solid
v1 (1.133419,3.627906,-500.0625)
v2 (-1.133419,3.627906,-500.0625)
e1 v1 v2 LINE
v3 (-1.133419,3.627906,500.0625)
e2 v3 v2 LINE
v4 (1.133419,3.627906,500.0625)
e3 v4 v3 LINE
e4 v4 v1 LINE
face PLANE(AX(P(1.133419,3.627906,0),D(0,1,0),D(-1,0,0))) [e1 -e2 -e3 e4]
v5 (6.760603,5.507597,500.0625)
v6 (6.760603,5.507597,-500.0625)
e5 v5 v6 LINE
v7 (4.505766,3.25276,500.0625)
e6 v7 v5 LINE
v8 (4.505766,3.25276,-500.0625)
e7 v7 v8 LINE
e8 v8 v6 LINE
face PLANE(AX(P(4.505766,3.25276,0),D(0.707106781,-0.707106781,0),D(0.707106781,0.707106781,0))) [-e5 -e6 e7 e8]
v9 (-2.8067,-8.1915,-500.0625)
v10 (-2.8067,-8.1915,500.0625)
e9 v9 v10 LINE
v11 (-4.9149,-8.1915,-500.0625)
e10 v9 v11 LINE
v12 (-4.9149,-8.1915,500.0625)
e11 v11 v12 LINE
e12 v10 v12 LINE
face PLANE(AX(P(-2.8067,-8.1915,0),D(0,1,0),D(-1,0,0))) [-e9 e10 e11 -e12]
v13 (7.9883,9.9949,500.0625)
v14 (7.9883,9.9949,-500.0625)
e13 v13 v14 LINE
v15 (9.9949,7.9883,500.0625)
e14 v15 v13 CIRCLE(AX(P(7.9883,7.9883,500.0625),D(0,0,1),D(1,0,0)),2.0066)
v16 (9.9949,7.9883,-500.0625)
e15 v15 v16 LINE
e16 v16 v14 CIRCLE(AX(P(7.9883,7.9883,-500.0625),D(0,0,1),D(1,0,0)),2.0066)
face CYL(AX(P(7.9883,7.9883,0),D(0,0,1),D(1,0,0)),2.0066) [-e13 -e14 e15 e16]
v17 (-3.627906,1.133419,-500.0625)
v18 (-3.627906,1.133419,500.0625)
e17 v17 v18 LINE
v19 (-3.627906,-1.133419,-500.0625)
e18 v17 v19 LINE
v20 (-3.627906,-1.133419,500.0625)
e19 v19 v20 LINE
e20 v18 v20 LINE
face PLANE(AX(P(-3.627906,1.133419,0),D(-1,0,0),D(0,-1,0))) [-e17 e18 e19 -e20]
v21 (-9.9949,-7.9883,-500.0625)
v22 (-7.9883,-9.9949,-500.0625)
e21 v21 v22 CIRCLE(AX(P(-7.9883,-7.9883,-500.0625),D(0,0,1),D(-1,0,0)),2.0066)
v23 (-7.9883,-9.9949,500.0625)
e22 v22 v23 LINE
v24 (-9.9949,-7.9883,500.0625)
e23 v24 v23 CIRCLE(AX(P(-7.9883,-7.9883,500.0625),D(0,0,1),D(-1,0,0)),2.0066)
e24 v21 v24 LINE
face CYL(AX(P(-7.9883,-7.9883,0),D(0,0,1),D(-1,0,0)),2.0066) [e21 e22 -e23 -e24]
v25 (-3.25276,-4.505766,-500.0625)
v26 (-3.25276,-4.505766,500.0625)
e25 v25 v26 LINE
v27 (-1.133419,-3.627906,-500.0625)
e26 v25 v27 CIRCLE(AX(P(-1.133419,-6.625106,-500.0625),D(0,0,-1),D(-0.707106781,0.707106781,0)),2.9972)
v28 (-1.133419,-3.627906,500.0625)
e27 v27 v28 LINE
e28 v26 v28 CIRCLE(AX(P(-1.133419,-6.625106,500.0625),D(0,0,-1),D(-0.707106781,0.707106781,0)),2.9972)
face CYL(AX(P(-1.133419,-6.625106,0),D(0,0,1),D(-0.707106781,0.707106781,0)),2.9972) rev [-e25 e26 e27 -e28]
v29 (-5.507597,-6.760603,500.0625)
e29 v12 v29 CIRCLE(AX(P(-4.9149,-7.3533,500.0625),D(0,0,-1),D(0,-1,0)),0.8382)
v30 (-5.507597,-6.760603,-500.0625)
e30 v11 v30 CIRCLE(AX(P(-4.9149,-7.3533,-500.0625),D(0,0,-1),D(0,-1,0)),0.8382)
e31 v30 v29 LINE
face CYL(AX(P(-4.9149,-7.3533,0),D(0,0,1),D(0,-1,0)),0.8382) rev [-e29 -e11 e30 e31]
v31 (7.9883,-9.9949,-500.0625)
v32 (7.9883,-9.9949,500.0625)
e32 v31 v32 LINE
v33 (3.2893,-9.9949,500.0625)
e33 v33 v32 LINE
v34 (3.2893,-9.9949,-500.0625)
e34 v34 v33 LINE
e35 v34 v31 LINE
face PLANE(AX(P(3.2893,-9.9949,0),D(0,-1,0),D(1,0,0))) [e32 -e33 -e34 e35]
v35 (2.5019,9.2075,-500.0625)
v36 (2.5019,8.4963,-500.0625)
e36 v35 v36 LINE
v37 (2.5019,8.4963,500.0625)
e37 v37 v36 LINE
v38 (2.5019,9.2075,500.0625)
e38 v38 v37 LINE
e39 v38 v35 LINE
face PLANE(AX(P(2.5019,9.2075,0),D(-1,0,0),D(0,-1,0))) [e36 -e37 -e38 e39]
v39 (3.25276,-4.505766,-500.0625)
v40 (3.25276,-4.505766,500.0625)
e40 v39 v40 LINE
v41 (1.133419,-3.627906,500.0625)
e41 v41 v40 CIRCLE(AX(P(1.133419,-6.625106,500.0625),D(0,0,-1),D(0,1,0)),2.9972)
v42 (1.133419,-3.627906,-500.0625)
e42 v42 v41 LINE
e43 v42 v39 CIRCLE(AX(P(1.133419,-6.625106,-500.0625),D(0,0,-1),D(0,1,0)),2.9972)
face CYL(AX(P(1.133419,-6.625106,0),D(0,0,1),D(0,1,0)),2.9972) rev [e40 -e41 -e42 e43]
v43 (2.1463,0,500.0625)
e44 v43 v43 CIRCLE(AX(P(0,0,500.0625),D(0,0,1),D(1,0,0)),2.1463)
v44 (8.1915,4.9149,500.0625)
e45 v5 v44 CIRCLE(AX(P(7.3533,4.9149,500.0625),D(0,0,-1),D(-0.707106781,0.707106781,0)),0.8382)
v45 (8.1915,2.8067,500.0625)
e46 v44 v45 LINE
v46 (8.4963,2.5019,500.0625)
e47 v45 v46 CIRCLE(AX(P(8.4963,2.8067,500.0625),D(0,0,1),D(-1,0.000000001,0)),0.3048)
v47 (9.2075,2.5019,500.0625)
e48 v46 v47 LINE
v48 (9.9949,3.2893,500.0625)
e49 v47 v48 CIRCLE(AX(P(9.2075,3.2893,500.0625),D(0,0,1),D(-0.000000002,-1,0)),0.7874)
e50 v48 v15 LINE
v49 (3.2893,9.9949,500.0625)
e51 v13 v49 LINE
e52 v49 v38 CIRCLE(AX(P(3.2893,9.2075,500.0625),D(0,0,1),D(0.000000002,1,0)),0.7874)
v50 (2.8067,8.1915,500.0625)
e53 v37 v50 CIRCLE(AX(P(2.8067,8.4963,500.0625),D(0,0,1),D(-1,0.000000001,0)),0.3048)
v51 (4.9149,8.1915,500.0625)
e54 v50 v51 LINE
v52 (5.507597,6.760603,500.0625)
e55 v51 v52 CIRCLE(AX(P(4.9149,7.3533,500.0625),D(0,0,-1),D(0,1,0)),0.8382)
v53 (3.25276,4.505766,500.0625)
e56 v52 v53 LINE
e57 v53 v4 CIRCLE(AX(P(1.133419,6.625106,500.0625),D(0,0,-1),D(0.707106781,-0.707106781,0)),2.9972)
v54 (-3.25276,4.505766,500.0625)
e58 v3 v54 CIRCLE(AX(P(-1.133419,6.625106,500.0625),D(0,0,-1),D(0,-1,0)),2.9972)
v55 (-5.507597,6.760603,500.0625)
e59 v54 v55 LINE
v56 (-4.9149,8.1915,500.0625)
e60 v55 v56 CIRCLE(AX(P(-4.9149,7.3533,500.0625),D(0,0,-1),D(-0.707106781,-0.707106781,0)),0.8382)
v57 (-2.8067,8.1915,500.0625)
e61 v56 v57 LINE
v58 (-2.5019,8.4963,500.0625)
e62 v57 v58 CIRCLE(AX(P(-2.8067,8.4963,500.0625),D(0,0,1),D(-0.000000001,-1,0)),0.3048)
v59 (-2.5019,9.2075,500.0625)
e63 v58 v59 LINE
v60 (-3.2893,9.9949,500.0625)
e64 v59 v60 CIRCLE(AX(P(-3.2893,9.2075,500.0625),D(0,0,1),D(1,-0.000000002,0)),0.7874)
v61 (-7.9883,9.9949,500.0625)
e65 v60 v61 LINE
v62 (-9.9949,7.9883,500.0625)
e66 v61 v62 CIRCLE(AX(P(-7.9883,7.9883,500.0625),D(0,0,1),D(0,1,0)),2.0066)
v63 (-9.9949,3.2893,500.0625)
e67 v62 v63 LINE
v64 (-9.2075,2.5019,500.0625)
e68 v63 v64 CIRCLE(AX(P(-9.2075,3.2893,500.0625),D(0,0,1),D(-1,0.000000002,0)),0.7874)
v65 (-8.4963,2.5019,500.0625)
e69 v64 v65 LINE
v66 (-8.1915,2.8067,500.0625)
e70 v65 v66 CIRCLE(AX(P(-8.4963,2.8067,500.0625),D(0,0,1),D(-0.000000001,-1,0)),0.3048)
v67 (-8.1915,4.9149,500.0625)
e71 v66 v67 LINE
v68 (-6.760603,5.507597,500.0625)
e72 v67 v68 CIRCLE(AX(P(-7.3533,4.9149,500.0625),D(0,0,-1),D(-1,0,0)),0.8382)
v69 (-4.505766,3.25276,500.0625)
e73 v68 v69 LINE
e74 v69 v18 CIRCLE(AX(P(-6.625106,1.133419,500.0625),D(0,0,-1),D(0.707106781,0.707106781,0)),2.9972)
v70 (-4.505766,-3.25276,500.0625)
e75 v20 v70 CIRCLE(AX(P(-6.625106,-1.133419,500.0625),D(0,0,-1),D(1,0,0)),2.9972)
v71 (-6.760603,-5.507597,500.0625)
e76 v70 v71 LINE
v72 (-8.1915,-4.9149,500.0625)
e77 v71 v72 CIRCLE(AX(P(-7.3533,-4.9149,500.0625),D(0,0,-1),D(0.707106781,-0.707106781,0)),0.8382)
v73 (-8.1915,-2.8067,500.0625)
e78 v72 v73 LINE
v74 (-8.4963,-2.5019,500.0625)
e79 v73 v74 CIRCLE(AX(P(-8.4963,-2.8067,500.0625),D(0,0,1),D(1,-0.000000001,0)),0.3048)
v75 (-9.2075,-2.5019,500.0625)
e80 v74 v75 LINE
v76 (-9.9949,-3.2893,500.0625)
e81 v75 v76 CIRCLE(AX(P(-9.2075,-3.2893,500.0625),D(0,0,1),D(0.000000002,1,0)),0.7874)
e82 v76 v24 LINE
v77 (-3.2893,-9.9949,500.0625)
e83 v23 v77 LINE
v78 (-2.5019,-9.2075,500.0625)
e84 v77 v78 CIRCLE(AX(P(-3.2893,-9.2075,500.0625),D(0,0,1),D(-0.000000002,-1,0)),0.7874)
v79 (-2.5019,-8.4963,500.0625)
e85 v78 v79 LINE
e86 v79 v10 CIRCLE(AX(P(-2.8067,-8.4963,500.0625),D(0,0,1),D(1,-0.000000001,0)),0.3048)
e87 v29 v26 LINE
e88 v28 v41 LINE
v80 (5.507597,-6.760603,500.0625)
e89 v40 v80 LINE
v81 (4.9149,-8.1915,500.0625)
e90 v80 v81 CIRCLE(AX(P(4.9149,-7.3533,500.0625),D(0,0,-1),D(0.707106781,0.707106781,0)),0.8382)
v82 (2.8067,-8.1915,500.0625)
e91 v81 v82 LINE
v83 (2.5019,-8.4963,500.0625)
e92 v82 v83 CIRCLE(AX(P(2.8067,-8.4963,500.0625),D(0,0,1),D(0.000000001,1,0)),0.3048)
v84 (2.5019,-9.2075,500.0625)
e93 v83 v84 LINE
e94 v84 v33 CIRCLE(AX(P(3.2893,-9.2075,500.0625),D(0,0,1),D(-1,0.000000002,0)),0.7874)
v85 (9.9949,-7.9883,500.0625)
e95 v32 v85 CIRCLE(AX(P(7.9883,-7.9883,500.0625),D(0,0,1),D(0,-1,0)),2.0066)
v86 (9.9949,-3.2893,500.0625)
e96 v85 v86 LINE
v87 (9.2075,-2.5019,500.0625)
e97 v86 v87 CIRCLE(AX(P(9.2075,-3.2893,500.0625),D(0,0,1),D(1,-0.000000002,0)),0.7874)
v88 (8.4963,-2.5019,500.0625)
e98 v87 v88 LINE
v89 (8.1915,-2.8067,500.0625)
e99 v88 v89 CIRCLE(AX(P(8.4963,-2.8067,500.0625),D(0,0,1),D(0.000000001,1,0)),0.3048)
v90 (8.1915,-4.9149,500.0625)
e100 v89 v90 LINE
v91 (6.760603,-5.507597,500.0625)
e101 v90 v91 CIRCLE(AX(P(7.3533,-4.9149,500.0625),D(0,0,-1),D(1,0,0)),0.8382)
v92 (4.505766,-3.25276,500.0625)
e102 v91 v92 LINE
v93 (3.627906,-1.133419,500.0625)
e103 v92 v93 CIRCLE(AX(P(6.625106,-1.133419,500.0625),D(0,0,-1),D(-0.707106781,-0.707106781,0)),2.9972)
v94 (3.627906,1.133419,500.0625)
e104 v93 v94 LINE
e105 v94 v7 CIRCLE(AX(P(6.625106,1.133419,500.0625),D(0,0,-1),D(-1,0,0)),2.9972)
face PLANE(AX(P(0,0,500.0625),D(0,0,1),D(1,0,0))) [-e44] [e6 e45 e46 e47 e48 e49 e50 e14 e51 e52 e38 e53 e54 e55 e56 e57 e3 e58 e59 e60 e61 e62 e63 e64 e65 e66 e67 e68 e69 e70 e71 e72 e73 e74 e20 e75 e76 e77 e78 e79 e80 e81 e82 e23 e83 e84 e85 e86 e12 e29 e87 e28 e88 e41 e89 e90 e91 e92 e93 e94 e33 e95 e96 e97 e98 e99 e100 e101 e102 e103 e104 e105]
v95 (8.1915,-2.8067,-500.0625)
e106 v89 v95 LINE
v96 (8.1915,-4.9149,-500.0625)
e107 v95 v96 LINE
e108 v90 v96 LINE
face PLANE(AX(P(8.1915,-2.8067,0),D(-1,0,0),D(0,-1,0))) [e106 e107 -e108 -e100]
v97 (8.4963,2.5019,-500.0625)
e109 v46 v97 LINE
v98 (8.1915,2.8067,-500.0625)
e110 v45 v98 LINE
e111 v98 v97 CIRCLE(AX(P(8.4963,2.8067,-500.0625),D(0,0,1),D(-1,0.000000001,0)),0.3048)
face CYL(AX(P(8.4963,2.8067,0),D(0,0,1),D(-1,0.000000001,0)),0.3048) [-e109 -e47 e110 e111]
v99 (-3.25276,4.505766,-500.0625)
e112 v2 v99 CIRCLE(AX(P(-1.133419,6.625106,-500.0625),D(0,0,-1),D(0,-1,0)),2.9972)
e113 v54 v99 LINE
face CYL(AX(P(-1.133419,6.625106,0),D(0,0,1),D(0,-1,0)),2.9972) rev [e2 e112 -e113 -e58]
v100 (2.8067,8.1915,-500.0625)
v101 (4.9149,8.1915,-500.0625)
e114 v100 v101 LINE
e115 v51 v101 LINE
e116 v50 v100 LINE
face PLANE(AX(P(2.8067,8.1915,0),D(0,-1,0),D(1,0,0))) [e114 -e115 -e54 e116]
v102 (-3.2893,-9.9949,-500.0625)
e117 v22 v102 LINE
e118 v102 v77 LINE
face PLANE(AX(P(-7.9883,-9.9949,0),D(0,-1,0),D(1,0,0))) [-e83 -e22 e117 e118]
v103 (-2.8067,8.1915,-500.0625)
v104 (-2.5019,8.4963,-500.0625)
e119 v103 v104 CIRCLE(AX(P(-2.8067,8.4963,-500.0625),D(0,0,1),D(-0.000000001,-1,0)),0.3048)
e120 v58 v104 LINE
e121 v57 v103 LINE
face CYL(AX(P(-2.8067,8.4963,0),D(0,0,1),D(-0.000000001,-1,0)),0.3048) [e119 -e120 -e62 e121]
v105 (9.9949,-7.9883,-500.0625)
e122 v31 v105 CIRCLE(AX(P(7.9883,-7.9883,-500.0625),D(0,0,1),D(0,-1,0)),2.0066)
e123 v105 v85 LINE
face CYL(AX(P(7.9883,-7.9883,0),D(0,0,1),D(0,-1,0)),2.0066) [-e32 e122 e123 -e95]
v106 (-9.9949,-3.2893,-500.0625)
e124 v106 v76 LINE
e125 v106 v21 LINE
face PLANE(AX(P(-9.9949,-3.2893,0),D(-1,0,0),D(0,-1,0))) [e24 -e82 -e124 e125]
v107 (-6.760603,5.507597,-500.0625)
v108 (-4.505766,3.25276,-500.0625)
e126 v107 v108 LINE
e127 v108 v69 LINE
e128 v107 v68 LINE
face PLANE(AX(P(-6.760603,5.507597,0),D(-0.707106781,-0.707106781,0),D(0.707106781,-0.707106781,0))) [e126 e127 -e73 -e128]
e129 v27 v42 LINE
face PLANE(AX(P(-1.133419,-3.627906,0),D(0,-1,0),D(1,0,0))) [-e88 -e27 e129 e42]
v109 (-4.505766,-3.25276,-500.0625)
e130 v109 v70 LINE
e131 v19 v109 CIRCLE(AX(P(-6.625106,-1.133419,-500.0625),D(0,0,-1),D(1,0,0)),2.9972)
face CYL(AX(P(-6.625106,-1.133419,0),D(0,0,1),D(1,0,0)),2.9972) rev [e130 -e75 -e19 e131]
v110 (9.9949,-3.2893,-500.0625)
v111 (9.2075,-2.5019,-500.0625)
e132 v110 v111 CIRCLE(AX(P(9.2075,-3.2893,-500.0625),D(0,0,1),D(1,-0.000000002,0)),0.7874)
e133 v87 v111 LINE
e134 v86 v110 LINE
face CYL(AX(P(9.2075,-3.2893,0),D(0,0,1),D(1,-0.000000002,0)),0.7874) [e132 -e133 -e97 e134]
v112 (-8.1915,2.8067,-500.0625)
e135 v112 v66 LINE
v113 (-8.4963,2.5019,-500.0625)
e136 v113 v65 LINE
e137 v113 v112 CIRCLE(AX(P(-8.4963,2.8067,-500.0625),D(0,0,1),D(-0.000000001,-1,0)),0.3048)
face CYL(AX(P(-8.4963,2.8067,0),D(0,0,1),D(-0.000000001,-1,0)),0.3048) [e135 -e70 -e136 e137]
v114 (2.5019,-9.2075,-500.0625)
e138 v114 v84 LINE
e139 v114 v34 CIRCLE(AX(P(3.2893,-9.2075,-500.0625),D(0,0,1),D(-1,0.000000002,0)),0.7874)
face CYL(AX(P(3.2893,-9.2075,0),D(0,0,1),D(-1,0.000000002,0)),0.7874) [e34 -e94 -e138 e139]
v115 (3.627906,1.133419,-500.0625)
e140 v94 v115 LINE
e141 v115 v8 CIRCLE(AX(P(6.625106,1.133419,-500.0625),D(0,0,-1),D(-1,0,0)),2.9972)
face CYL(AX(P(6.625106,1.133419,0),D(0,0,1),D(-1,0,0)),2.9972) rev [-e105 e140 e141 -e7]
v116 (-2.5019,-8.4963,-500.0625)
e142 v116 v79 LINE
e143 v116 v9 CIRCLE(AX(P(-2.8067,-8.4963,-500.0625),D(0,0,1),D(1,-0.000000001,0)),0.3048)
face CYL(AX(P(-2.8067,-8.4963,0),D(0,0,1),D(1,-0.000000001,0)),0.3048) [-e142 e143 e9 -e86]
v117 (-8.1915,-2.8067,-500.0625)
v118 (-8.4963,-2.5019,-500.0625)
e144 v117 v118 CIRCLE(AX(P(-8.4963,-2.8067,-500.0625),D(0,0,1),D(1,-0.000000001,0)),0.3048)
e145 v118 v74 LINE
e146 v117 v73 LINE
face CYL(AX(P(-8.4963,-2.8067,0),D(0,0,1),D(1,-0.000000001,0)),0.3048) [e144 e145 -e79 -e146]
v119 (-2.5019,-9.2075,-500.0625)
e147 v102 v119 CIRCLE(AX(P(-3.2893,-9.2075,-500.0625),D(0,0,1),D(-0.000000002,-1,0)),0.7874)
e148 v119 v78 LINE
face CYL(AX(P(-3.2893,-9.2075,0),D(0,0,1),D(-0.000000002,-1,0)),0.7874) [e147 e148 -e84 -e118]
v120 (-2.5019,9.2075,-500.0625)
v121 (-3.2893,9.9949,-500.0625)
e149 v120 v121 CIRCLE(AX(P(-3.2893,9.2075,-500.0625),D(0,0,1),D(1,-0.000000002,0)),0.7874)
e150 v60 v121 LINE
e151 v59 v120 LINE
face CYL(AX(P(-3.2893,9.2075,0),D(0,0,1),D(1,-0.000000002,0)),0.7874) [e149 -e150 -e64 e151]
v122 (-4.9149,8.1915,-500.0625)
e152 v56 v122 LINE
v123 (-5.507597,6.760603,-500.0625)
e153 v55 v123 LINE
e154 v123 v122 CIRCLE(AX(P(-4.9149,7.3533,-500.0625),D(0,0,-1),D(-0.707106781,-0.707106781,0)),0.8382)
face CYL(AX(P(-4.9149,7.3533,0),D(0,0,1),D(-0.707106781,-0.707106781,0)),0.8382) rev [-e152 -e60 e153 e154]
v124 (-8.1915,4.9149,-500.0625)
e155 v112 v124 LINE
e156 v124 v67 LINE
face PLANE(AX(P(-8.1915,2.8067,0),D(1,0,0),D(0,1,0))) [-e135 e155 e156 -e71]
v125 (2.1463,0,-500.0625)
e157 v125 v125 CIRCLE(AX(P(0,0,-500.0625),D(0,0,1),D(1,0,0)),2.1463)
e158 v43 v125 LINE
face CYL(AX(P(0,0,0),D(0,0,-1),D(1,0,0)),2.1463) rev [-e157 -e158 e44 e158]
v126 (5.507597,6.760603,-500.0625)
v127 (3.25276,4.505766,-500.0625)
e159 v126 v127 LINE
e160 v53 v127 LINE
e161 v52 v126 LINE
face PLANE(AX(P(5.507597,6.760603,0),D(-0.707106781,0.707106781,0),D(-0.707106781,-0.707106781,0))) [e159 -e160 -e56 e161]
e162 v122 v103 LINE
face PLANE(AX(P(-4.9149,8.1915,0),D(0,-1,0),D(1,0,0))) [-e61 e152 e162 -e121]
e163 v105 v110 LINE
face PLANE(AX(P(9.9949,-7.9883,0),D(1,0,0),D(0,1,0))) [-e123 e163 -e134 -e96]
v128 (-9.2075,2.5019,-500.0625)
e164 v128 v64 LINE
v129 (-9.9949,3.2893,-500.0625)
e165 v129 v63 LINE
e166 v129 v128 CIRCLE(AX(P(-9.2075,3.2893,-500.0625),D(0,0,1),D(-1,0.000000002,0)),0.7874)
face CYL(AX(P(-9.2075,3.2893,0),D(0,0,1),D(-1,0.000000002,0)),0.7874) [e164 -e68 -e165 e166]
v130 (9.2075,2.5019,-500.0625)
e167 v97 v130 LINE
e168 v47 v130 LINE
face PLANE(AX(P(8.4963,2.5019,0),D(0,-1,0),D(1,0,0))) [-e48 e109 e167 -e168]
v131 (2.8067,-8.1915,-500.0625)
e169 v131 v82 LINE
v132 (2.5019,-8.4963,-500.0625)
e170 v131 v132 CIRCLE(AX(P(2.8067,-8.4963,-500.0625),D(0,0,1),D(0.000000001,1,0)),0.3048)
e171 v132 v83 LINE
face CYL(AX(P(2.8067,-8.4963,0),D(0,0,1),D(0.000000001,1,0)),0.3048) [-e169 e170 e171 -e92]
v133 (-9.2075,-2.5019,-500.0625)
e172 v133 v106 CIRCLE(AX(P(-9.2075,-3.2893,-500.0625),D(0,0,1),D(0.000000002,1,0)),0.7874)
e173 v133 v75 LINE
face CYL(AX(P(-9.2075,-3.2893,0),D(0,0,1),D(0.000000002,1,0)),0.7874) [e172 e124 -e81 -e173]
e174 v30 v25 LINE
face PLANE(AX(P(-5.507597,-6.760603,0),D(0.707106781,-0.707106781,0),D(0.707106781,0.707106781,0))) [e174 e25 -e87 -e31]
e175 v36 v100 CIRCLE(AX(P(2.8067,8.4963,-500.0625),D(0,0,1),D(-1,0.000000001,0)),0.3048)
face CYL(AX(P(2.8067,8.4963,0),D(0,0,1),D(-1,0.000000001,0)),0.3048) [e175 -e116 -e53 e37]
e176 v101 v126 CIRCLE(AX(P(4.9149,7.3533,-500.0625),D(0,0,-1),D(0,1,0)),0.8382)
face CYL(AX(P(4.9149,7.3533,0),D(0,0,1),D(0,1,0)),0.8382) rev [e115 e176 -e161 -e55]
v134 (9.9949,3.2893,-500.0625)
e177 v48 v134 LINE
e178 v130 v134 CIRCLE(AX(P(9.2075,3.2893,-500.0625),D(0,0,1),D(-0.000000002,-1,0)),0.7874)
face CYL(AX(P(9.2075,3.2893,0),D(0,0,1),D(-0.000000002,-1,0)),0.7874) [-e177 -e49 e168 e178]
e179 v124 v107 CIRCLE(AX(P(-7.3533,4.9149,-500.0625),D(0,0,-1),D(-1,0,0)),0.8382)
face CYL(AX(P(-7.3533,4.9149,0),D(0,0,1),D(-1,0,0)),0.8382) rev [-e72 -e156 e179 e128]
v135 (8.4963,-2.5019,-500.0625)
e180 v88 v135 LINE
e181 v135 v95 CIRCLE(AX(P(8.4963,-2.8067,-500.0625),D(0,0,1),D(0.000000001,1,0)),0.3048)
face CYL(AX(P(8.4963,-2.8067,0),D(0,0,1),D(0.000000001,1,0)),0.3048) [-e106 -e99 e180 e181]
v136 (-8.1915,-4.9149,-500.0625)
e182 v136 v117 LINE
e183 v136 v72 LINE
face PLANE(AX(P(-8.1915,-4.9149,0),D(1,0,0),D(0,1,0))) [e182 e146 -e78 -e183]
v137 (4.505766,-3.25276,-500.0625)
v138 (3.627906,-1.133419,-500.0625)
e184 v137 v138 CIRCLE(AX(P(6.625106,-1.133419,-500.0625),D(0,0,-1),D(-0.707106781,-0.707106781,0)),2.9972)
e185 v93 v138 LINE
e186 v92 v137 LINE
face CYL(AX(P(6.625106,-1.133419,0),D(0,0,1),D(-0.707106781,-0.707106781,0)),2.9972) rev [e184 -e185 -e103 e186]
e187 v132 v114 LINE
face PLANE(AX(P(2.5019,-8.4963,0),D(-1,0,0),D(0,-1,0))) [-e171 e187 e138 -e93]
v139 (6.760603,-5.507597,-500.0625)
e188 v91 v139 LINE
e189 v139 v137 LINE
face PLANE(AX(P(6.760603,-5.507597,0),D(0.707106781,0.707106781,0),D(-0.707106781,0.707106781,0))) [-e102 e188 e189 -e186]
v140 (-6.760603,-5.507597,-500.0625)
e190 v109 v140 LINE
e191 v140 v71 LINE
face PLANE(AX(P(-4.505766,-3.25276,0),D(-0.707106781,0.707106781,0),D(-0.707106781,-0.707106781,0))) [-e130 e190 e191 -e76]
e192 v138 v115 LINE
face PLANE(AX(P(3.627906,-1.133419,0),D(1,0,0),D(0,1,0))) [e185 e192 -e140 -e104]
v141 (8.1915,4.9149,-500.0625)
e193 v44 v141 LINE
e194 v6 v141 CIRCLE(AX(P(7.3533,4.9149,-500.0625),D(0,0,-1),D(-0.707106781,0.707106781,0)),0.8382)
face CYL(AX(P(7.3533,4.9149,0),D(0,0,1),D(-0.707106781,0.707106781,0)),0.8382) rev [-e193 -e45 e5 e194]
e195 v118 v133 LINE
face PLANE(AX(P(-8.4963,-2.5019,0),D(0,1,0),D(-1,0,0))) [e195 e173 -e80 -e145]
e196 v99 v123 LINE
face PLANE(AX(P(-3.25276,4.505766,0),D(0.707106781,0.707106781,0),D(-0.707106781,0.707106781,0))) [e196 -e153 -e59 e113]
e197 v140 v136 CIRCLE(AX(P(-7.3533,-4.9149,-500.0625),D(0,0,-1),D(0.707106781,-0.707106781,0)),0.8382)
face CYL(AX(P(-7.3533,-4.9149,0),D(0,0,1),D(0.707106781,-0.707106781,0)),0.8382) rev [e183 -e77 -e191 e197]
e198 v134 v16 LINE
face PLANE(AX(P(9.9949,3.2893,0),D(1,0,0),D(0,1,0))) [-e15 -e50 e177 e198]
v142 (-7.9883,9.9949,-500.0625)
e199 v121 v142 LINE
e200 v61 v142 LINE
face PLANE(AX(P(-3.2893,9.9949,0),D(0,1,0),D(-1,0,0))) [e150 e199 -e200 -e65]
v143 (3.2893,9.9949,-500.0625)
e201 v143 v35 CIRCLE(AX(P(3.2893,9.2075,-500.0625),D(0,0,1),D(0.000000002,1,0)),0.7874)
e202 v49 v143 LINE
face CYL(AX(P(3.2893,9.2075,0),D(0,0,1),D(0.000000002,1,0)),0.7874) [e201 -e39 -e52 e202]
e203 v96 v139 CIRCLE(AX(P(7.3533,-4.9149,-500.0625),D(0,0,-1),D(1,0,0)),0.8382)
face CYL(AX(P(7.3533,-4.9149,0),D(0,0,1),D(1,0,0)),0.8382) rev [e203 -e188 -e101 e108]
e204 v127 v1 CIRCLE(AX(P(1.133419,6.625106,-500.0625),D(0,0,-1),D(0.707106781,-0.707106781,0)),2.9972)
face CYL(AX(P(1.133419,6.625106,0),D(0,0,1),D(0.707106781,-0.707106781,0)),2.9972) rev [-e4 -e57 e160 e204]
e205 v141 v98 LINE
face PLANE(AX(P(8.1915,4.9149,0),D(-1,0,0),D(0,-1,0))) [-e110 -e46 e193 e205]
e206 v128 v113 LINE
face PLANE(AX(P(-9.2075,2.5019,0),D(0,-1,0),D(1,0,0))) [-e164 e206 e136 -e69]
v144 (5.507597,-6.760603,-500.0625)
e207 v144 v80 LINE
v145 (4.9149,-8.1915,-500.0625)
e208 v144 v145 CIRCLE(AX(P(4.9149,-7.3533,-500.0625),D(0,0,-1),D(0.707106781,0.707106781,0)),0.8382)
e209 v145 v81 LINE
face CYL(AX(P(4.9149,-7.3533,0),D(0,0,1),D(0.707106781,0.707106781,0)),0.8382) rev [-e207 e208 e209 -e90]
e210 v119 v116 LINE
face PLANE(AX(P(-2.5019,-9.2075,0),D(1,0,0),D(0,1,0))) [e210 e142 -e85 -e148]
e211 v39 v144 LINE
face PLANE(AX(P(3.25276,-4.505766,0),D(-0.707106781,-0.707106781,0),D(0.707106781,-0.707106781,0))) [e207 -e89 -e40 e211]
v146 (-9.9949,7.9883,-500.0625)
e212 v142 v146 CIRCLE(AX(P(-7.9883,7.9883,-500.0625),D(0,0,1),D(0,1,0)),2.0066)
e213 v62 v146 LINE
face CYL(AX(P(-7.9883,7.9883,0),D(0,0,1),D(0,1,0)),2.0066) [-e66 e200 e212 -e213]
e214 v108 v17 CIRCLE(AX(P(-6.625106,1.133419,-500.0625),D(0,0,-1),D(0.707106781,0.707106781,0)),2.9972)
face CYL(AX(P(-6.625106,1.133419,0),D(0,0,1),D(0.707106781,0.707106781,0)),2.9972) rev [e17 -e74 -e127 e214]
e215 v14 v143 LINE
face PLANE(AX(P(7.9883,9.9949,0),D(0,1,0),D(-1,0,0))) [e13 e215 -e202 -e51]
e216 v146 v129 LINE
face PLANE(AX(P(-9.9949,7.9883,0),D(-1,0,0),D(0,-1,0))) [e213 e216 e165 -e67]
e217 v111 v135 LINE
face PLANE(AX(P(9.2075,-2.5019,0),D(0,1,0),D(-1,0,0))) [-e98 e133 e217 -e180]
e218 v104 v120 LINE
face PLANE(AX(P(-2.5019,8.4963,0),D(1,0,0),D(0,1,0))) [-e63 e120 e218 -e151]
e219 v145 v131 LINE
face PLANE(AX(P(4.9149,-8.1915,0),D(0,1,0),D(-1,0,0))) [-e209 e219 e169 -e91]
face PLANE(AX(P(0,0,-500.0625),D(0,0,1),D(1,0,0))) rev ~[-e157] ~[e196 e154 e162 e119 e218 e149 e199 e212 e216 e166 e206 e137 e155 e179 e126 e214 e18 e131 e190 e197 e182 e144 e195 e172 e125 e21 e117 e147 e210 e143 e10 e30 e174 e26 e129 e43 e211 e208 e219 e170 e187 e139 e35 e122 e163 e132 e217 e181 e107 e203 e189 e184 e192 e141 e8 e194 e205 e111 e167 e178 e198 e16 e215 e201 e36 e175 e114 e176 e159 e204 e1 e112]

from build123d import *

# Parameters (mm, degrees)
SKETCH1_R           = 2.1463
BOSS_EXTRUDE1_DEPTH = 500.0625


with BuildPart() as part:
    # Sketch1 → Boss-Extrude1 (new body, symmetric)
    with BuildSketch(Plane.XY):
        with BuildLine():
            Line((-9.9949, 7.9883), (-9.9949, 3.2893))
            ThreePointArc((-9.9949, 3.2893), (-9.76427588, 2.73252412), (-9.2075, 2.5019))
            Line((-9.2075, 2.5019), (-8.4963, 2.5019))
            ThreePointArc((-8.4963, 2.5019), (-8.280773853, 2.591173853), (-8.1915, 2.8067))
            Line((-8.1915, 2.8067), (-8.1915, 4.9149))
            ThreePointArc((-8.1915, 4.9149), (-7.674065253, 5.689295824), (-6.760603096, 5.507596904))
            Line((-6.760603096, 5.507596904), (-4.505765747, 3.252759555))
            ThreePointArc((-4.505765747, 3.252759555), (-3.856054457, 2.280397894), (-3.627906192, 1.133419111))
            Line((-3.627906192, 1.133419111), (-3.627906192, -1.133419111))
            ThreePointArc((-3.627906192, -1.133419111), (-3.856054457, -2.280397894), (-4.505765747, -3.252759555))
            Line((-4.505765747, -3.252759555), (-6.760603096, -5.507596904))
            ThreePointArc((-6.760603096, -5.507596904), (-7.674065253, -5.689295824), (-8.1915, -4.9149))
            Line((-8.1915, -4.9149), (-8.1915, -2.8067))
            ThreePointArc((-8.1915, -2.8067), (-8.280773853, -2.591173853), (-8.4963, -2.5019))
            Line((-8.4963, -2.5019), (-9.2075, -2.5019))
            ThreePointArc((-9.2075, -2.5019), (-9.76427588, -2.73252412), (-9.9949, -3.2893))
            Line((-9.9949, -3.2893), (-9.9949, -7.9883))
            ThreePointArc((-9.9949, -7.9883), (-9.407180467, -9.407180467), (-7.9883, -9.9949))
            Line((-7.9883, -9.9949), (-3.2893, -9.9949))
            ThreePointArc((-3.2893, -9.9949), (-2.73252412, -9.76427588), (-2.5019, -9.2075))
            Line((-2.5019, -9.2075), (-2.5019, -8.4963))
            ThreePointArc((-2.5019, -8.4963), (-2.591173853, -8.280773853), (-2.8067, -8.1915))
            Line((-2.8067, -8.1915), (-4.9149, -8.1915))
            ThreePointArc((-4.9149, -8.1915), (-5.689295824, -7.674065253), (-5.507596904, -6.760603096))
            Line((-5.507596904, -6.760603096), (-3.252759555, -4.505765747))
            ThreePointArc((-3.252759555, -4.505765747), (-2.280397894, -3.856054457), (-1.133419111, -3.627906192))
            Line((-1.133419111, -3.627906192), (1.133419111, -3.627906192))
            ThreePointArc((1.133419111, -3.627906192), (2.280397894, -3.856054457), (3.252759555, -4.505765747))
            Line((3.252759555, -4.505765747), (5.507596904, -6.760603096))
            ThreePointArc((5.507596904, -6.760603096), (5.689295824, -7.674065253), (4.9149, -8.1915))
            Line((4.9149, -8.1915), (2.8067, -8.1915))
            ThreePointArc((2.8067, -8.1915), (2.591173853, -8.280773853), (2.5019, -8.4963))
            Line((2.5019, -8.4963), (2.5019, -9.2075))
            ThreePointArc((2.5019, -9.2075), (2.73252412, -9.76427588), (3.2893, -9.9949))
            Line((3.2893, -9.9949), (7.9883, -9.9949))
            ThreePointArc((7.9883, -9.9949), (9.407180467, -9.407180467), (9.9949, -7.9883))
            Line((9.9949, -7.9883), (9.9949, -3.2893))
            ThreePointArc((9.9949, -3.2893), (9.76427588, -2.73252412), (9.2075, -2.5019))
            Line((9.2075, -2.5019), (8.4963, -2.5019))
            ThreePointArc((8.4963, -2.5019), (8.280773853, -2.591173853), (8.1915, -2.8067))
            Line((8.1915, -2.8067), (8.1915, -4.9149))
            ThreePointArc((8.1915, -4.9149), (7.674065253, -5.689295824), (6.760603096, -5.507596904))
            Line((6.760603096, -5.507596904), (4.505765747, -3.252759555))
            ThreePointArc((4.505765747, -3.252759555), (3.856054457, -2.280397894), (3.627906192, -1.133419111))
            Line((3.627906192, -1.133419111), (3.627906192, 1.133419111))
            ThreePointArc((3.627906192, 1.133419111), (3.856054457, 2.280397894), (4.505765747, 3.252759555))
            Line((4.505765747, 3.252759555), (6.760603096, 5.507596904))
            ThreePointArc((6.760603096, 5.507596904), (7.674065253, 5.689295824), (8.1915, 4.9149))
            Line((8.1915, 4.9149), (8.1915, 2.8067))
            ThreePointArc((8.1915, 2.8067), (8.280773853, 2.591173853), (8.4963, 2.5019))
            Line((8.4963, 2.5019), (9.2075, 2.5019))
            ThreePointArc((9.2075, 2.5019), (9.76427588, 2.73252412), (9.9949, 3.2893))
            Line((9.9949, 3.2893), (9.9949, 7.9883))
            ThreePointArc((9.9949, 7.9883), (9.407180467, 9.407180467), (7.9883, 9.9949))
            Line((7.9883, 9.9949), (3.2893, 9.9949))
            ThreePointArc((3.2893, 9.9949), (2.73252412, 9.76427588), (2.5019, 9.2075))
            Line((2.5019, 9.2075), (2.5019, 8.4963))
            ThreePointArc((2.5019, 8.4963), (2.591173853, 8.280773853), (2.8067, 8.1915))
            Line((2.8067, 8.1915), (4.9149, 8.1915))
            ThreePointArc((4.9149, 8.1915), (5.689295824, 7.674065253), (5.507596904, 6.760603096))
            Line((5.507596904, 6.760603096), (3.252759555, 4.505765747))
            ThreePointArc((3.252759555, 4.505765747), (2.280397894, 3.856054457), (1.133419111, 3.627906192))
            Line((1.133419111, 3.627906192), (-1.133419111, 3.627906192))
            ThreePointArc((-1.133419111, 3.627906192), (-2.280397894, 3.856054457), (-3.252759555, 4.505765747))
            Line((-3.252759555, 4.505765747), (-5.507596904, 6.760603096))
            ThreePointArc((-5.507596904, 6.760603096), (-5.689295824, 7.674065253), (-4.9149, 8.1915))
            Line((-4.9149, 8.1915), (-2.8067, 8.1915))
            ThreePointArc((-2.8067, 8.1915), (-2.591173853, 8.280773853), (-2.5019, 8.4963))
            Line((-2.5019, 8.4963), (-2.5019, 9.2075))
            ThreePointArc((-2.5019, 9.2075), (-2.73252412, 9.76427588), (-3.2893, 9.9949))
            Line((-3.2893, 9.9949), (-7.9883, 9.9949))
            ThreePointArc((-7.9883, 9.9949), (-9.407180467, 9.407180467), (-9.9949, 7.9883))
        make_face()
        Circle(SKETCH1_R, mode=Mode.SUBTRACT)
    extrude(amount=BOSS_EXTRUDE1_DEPTH, both=True)


solid = part.part
